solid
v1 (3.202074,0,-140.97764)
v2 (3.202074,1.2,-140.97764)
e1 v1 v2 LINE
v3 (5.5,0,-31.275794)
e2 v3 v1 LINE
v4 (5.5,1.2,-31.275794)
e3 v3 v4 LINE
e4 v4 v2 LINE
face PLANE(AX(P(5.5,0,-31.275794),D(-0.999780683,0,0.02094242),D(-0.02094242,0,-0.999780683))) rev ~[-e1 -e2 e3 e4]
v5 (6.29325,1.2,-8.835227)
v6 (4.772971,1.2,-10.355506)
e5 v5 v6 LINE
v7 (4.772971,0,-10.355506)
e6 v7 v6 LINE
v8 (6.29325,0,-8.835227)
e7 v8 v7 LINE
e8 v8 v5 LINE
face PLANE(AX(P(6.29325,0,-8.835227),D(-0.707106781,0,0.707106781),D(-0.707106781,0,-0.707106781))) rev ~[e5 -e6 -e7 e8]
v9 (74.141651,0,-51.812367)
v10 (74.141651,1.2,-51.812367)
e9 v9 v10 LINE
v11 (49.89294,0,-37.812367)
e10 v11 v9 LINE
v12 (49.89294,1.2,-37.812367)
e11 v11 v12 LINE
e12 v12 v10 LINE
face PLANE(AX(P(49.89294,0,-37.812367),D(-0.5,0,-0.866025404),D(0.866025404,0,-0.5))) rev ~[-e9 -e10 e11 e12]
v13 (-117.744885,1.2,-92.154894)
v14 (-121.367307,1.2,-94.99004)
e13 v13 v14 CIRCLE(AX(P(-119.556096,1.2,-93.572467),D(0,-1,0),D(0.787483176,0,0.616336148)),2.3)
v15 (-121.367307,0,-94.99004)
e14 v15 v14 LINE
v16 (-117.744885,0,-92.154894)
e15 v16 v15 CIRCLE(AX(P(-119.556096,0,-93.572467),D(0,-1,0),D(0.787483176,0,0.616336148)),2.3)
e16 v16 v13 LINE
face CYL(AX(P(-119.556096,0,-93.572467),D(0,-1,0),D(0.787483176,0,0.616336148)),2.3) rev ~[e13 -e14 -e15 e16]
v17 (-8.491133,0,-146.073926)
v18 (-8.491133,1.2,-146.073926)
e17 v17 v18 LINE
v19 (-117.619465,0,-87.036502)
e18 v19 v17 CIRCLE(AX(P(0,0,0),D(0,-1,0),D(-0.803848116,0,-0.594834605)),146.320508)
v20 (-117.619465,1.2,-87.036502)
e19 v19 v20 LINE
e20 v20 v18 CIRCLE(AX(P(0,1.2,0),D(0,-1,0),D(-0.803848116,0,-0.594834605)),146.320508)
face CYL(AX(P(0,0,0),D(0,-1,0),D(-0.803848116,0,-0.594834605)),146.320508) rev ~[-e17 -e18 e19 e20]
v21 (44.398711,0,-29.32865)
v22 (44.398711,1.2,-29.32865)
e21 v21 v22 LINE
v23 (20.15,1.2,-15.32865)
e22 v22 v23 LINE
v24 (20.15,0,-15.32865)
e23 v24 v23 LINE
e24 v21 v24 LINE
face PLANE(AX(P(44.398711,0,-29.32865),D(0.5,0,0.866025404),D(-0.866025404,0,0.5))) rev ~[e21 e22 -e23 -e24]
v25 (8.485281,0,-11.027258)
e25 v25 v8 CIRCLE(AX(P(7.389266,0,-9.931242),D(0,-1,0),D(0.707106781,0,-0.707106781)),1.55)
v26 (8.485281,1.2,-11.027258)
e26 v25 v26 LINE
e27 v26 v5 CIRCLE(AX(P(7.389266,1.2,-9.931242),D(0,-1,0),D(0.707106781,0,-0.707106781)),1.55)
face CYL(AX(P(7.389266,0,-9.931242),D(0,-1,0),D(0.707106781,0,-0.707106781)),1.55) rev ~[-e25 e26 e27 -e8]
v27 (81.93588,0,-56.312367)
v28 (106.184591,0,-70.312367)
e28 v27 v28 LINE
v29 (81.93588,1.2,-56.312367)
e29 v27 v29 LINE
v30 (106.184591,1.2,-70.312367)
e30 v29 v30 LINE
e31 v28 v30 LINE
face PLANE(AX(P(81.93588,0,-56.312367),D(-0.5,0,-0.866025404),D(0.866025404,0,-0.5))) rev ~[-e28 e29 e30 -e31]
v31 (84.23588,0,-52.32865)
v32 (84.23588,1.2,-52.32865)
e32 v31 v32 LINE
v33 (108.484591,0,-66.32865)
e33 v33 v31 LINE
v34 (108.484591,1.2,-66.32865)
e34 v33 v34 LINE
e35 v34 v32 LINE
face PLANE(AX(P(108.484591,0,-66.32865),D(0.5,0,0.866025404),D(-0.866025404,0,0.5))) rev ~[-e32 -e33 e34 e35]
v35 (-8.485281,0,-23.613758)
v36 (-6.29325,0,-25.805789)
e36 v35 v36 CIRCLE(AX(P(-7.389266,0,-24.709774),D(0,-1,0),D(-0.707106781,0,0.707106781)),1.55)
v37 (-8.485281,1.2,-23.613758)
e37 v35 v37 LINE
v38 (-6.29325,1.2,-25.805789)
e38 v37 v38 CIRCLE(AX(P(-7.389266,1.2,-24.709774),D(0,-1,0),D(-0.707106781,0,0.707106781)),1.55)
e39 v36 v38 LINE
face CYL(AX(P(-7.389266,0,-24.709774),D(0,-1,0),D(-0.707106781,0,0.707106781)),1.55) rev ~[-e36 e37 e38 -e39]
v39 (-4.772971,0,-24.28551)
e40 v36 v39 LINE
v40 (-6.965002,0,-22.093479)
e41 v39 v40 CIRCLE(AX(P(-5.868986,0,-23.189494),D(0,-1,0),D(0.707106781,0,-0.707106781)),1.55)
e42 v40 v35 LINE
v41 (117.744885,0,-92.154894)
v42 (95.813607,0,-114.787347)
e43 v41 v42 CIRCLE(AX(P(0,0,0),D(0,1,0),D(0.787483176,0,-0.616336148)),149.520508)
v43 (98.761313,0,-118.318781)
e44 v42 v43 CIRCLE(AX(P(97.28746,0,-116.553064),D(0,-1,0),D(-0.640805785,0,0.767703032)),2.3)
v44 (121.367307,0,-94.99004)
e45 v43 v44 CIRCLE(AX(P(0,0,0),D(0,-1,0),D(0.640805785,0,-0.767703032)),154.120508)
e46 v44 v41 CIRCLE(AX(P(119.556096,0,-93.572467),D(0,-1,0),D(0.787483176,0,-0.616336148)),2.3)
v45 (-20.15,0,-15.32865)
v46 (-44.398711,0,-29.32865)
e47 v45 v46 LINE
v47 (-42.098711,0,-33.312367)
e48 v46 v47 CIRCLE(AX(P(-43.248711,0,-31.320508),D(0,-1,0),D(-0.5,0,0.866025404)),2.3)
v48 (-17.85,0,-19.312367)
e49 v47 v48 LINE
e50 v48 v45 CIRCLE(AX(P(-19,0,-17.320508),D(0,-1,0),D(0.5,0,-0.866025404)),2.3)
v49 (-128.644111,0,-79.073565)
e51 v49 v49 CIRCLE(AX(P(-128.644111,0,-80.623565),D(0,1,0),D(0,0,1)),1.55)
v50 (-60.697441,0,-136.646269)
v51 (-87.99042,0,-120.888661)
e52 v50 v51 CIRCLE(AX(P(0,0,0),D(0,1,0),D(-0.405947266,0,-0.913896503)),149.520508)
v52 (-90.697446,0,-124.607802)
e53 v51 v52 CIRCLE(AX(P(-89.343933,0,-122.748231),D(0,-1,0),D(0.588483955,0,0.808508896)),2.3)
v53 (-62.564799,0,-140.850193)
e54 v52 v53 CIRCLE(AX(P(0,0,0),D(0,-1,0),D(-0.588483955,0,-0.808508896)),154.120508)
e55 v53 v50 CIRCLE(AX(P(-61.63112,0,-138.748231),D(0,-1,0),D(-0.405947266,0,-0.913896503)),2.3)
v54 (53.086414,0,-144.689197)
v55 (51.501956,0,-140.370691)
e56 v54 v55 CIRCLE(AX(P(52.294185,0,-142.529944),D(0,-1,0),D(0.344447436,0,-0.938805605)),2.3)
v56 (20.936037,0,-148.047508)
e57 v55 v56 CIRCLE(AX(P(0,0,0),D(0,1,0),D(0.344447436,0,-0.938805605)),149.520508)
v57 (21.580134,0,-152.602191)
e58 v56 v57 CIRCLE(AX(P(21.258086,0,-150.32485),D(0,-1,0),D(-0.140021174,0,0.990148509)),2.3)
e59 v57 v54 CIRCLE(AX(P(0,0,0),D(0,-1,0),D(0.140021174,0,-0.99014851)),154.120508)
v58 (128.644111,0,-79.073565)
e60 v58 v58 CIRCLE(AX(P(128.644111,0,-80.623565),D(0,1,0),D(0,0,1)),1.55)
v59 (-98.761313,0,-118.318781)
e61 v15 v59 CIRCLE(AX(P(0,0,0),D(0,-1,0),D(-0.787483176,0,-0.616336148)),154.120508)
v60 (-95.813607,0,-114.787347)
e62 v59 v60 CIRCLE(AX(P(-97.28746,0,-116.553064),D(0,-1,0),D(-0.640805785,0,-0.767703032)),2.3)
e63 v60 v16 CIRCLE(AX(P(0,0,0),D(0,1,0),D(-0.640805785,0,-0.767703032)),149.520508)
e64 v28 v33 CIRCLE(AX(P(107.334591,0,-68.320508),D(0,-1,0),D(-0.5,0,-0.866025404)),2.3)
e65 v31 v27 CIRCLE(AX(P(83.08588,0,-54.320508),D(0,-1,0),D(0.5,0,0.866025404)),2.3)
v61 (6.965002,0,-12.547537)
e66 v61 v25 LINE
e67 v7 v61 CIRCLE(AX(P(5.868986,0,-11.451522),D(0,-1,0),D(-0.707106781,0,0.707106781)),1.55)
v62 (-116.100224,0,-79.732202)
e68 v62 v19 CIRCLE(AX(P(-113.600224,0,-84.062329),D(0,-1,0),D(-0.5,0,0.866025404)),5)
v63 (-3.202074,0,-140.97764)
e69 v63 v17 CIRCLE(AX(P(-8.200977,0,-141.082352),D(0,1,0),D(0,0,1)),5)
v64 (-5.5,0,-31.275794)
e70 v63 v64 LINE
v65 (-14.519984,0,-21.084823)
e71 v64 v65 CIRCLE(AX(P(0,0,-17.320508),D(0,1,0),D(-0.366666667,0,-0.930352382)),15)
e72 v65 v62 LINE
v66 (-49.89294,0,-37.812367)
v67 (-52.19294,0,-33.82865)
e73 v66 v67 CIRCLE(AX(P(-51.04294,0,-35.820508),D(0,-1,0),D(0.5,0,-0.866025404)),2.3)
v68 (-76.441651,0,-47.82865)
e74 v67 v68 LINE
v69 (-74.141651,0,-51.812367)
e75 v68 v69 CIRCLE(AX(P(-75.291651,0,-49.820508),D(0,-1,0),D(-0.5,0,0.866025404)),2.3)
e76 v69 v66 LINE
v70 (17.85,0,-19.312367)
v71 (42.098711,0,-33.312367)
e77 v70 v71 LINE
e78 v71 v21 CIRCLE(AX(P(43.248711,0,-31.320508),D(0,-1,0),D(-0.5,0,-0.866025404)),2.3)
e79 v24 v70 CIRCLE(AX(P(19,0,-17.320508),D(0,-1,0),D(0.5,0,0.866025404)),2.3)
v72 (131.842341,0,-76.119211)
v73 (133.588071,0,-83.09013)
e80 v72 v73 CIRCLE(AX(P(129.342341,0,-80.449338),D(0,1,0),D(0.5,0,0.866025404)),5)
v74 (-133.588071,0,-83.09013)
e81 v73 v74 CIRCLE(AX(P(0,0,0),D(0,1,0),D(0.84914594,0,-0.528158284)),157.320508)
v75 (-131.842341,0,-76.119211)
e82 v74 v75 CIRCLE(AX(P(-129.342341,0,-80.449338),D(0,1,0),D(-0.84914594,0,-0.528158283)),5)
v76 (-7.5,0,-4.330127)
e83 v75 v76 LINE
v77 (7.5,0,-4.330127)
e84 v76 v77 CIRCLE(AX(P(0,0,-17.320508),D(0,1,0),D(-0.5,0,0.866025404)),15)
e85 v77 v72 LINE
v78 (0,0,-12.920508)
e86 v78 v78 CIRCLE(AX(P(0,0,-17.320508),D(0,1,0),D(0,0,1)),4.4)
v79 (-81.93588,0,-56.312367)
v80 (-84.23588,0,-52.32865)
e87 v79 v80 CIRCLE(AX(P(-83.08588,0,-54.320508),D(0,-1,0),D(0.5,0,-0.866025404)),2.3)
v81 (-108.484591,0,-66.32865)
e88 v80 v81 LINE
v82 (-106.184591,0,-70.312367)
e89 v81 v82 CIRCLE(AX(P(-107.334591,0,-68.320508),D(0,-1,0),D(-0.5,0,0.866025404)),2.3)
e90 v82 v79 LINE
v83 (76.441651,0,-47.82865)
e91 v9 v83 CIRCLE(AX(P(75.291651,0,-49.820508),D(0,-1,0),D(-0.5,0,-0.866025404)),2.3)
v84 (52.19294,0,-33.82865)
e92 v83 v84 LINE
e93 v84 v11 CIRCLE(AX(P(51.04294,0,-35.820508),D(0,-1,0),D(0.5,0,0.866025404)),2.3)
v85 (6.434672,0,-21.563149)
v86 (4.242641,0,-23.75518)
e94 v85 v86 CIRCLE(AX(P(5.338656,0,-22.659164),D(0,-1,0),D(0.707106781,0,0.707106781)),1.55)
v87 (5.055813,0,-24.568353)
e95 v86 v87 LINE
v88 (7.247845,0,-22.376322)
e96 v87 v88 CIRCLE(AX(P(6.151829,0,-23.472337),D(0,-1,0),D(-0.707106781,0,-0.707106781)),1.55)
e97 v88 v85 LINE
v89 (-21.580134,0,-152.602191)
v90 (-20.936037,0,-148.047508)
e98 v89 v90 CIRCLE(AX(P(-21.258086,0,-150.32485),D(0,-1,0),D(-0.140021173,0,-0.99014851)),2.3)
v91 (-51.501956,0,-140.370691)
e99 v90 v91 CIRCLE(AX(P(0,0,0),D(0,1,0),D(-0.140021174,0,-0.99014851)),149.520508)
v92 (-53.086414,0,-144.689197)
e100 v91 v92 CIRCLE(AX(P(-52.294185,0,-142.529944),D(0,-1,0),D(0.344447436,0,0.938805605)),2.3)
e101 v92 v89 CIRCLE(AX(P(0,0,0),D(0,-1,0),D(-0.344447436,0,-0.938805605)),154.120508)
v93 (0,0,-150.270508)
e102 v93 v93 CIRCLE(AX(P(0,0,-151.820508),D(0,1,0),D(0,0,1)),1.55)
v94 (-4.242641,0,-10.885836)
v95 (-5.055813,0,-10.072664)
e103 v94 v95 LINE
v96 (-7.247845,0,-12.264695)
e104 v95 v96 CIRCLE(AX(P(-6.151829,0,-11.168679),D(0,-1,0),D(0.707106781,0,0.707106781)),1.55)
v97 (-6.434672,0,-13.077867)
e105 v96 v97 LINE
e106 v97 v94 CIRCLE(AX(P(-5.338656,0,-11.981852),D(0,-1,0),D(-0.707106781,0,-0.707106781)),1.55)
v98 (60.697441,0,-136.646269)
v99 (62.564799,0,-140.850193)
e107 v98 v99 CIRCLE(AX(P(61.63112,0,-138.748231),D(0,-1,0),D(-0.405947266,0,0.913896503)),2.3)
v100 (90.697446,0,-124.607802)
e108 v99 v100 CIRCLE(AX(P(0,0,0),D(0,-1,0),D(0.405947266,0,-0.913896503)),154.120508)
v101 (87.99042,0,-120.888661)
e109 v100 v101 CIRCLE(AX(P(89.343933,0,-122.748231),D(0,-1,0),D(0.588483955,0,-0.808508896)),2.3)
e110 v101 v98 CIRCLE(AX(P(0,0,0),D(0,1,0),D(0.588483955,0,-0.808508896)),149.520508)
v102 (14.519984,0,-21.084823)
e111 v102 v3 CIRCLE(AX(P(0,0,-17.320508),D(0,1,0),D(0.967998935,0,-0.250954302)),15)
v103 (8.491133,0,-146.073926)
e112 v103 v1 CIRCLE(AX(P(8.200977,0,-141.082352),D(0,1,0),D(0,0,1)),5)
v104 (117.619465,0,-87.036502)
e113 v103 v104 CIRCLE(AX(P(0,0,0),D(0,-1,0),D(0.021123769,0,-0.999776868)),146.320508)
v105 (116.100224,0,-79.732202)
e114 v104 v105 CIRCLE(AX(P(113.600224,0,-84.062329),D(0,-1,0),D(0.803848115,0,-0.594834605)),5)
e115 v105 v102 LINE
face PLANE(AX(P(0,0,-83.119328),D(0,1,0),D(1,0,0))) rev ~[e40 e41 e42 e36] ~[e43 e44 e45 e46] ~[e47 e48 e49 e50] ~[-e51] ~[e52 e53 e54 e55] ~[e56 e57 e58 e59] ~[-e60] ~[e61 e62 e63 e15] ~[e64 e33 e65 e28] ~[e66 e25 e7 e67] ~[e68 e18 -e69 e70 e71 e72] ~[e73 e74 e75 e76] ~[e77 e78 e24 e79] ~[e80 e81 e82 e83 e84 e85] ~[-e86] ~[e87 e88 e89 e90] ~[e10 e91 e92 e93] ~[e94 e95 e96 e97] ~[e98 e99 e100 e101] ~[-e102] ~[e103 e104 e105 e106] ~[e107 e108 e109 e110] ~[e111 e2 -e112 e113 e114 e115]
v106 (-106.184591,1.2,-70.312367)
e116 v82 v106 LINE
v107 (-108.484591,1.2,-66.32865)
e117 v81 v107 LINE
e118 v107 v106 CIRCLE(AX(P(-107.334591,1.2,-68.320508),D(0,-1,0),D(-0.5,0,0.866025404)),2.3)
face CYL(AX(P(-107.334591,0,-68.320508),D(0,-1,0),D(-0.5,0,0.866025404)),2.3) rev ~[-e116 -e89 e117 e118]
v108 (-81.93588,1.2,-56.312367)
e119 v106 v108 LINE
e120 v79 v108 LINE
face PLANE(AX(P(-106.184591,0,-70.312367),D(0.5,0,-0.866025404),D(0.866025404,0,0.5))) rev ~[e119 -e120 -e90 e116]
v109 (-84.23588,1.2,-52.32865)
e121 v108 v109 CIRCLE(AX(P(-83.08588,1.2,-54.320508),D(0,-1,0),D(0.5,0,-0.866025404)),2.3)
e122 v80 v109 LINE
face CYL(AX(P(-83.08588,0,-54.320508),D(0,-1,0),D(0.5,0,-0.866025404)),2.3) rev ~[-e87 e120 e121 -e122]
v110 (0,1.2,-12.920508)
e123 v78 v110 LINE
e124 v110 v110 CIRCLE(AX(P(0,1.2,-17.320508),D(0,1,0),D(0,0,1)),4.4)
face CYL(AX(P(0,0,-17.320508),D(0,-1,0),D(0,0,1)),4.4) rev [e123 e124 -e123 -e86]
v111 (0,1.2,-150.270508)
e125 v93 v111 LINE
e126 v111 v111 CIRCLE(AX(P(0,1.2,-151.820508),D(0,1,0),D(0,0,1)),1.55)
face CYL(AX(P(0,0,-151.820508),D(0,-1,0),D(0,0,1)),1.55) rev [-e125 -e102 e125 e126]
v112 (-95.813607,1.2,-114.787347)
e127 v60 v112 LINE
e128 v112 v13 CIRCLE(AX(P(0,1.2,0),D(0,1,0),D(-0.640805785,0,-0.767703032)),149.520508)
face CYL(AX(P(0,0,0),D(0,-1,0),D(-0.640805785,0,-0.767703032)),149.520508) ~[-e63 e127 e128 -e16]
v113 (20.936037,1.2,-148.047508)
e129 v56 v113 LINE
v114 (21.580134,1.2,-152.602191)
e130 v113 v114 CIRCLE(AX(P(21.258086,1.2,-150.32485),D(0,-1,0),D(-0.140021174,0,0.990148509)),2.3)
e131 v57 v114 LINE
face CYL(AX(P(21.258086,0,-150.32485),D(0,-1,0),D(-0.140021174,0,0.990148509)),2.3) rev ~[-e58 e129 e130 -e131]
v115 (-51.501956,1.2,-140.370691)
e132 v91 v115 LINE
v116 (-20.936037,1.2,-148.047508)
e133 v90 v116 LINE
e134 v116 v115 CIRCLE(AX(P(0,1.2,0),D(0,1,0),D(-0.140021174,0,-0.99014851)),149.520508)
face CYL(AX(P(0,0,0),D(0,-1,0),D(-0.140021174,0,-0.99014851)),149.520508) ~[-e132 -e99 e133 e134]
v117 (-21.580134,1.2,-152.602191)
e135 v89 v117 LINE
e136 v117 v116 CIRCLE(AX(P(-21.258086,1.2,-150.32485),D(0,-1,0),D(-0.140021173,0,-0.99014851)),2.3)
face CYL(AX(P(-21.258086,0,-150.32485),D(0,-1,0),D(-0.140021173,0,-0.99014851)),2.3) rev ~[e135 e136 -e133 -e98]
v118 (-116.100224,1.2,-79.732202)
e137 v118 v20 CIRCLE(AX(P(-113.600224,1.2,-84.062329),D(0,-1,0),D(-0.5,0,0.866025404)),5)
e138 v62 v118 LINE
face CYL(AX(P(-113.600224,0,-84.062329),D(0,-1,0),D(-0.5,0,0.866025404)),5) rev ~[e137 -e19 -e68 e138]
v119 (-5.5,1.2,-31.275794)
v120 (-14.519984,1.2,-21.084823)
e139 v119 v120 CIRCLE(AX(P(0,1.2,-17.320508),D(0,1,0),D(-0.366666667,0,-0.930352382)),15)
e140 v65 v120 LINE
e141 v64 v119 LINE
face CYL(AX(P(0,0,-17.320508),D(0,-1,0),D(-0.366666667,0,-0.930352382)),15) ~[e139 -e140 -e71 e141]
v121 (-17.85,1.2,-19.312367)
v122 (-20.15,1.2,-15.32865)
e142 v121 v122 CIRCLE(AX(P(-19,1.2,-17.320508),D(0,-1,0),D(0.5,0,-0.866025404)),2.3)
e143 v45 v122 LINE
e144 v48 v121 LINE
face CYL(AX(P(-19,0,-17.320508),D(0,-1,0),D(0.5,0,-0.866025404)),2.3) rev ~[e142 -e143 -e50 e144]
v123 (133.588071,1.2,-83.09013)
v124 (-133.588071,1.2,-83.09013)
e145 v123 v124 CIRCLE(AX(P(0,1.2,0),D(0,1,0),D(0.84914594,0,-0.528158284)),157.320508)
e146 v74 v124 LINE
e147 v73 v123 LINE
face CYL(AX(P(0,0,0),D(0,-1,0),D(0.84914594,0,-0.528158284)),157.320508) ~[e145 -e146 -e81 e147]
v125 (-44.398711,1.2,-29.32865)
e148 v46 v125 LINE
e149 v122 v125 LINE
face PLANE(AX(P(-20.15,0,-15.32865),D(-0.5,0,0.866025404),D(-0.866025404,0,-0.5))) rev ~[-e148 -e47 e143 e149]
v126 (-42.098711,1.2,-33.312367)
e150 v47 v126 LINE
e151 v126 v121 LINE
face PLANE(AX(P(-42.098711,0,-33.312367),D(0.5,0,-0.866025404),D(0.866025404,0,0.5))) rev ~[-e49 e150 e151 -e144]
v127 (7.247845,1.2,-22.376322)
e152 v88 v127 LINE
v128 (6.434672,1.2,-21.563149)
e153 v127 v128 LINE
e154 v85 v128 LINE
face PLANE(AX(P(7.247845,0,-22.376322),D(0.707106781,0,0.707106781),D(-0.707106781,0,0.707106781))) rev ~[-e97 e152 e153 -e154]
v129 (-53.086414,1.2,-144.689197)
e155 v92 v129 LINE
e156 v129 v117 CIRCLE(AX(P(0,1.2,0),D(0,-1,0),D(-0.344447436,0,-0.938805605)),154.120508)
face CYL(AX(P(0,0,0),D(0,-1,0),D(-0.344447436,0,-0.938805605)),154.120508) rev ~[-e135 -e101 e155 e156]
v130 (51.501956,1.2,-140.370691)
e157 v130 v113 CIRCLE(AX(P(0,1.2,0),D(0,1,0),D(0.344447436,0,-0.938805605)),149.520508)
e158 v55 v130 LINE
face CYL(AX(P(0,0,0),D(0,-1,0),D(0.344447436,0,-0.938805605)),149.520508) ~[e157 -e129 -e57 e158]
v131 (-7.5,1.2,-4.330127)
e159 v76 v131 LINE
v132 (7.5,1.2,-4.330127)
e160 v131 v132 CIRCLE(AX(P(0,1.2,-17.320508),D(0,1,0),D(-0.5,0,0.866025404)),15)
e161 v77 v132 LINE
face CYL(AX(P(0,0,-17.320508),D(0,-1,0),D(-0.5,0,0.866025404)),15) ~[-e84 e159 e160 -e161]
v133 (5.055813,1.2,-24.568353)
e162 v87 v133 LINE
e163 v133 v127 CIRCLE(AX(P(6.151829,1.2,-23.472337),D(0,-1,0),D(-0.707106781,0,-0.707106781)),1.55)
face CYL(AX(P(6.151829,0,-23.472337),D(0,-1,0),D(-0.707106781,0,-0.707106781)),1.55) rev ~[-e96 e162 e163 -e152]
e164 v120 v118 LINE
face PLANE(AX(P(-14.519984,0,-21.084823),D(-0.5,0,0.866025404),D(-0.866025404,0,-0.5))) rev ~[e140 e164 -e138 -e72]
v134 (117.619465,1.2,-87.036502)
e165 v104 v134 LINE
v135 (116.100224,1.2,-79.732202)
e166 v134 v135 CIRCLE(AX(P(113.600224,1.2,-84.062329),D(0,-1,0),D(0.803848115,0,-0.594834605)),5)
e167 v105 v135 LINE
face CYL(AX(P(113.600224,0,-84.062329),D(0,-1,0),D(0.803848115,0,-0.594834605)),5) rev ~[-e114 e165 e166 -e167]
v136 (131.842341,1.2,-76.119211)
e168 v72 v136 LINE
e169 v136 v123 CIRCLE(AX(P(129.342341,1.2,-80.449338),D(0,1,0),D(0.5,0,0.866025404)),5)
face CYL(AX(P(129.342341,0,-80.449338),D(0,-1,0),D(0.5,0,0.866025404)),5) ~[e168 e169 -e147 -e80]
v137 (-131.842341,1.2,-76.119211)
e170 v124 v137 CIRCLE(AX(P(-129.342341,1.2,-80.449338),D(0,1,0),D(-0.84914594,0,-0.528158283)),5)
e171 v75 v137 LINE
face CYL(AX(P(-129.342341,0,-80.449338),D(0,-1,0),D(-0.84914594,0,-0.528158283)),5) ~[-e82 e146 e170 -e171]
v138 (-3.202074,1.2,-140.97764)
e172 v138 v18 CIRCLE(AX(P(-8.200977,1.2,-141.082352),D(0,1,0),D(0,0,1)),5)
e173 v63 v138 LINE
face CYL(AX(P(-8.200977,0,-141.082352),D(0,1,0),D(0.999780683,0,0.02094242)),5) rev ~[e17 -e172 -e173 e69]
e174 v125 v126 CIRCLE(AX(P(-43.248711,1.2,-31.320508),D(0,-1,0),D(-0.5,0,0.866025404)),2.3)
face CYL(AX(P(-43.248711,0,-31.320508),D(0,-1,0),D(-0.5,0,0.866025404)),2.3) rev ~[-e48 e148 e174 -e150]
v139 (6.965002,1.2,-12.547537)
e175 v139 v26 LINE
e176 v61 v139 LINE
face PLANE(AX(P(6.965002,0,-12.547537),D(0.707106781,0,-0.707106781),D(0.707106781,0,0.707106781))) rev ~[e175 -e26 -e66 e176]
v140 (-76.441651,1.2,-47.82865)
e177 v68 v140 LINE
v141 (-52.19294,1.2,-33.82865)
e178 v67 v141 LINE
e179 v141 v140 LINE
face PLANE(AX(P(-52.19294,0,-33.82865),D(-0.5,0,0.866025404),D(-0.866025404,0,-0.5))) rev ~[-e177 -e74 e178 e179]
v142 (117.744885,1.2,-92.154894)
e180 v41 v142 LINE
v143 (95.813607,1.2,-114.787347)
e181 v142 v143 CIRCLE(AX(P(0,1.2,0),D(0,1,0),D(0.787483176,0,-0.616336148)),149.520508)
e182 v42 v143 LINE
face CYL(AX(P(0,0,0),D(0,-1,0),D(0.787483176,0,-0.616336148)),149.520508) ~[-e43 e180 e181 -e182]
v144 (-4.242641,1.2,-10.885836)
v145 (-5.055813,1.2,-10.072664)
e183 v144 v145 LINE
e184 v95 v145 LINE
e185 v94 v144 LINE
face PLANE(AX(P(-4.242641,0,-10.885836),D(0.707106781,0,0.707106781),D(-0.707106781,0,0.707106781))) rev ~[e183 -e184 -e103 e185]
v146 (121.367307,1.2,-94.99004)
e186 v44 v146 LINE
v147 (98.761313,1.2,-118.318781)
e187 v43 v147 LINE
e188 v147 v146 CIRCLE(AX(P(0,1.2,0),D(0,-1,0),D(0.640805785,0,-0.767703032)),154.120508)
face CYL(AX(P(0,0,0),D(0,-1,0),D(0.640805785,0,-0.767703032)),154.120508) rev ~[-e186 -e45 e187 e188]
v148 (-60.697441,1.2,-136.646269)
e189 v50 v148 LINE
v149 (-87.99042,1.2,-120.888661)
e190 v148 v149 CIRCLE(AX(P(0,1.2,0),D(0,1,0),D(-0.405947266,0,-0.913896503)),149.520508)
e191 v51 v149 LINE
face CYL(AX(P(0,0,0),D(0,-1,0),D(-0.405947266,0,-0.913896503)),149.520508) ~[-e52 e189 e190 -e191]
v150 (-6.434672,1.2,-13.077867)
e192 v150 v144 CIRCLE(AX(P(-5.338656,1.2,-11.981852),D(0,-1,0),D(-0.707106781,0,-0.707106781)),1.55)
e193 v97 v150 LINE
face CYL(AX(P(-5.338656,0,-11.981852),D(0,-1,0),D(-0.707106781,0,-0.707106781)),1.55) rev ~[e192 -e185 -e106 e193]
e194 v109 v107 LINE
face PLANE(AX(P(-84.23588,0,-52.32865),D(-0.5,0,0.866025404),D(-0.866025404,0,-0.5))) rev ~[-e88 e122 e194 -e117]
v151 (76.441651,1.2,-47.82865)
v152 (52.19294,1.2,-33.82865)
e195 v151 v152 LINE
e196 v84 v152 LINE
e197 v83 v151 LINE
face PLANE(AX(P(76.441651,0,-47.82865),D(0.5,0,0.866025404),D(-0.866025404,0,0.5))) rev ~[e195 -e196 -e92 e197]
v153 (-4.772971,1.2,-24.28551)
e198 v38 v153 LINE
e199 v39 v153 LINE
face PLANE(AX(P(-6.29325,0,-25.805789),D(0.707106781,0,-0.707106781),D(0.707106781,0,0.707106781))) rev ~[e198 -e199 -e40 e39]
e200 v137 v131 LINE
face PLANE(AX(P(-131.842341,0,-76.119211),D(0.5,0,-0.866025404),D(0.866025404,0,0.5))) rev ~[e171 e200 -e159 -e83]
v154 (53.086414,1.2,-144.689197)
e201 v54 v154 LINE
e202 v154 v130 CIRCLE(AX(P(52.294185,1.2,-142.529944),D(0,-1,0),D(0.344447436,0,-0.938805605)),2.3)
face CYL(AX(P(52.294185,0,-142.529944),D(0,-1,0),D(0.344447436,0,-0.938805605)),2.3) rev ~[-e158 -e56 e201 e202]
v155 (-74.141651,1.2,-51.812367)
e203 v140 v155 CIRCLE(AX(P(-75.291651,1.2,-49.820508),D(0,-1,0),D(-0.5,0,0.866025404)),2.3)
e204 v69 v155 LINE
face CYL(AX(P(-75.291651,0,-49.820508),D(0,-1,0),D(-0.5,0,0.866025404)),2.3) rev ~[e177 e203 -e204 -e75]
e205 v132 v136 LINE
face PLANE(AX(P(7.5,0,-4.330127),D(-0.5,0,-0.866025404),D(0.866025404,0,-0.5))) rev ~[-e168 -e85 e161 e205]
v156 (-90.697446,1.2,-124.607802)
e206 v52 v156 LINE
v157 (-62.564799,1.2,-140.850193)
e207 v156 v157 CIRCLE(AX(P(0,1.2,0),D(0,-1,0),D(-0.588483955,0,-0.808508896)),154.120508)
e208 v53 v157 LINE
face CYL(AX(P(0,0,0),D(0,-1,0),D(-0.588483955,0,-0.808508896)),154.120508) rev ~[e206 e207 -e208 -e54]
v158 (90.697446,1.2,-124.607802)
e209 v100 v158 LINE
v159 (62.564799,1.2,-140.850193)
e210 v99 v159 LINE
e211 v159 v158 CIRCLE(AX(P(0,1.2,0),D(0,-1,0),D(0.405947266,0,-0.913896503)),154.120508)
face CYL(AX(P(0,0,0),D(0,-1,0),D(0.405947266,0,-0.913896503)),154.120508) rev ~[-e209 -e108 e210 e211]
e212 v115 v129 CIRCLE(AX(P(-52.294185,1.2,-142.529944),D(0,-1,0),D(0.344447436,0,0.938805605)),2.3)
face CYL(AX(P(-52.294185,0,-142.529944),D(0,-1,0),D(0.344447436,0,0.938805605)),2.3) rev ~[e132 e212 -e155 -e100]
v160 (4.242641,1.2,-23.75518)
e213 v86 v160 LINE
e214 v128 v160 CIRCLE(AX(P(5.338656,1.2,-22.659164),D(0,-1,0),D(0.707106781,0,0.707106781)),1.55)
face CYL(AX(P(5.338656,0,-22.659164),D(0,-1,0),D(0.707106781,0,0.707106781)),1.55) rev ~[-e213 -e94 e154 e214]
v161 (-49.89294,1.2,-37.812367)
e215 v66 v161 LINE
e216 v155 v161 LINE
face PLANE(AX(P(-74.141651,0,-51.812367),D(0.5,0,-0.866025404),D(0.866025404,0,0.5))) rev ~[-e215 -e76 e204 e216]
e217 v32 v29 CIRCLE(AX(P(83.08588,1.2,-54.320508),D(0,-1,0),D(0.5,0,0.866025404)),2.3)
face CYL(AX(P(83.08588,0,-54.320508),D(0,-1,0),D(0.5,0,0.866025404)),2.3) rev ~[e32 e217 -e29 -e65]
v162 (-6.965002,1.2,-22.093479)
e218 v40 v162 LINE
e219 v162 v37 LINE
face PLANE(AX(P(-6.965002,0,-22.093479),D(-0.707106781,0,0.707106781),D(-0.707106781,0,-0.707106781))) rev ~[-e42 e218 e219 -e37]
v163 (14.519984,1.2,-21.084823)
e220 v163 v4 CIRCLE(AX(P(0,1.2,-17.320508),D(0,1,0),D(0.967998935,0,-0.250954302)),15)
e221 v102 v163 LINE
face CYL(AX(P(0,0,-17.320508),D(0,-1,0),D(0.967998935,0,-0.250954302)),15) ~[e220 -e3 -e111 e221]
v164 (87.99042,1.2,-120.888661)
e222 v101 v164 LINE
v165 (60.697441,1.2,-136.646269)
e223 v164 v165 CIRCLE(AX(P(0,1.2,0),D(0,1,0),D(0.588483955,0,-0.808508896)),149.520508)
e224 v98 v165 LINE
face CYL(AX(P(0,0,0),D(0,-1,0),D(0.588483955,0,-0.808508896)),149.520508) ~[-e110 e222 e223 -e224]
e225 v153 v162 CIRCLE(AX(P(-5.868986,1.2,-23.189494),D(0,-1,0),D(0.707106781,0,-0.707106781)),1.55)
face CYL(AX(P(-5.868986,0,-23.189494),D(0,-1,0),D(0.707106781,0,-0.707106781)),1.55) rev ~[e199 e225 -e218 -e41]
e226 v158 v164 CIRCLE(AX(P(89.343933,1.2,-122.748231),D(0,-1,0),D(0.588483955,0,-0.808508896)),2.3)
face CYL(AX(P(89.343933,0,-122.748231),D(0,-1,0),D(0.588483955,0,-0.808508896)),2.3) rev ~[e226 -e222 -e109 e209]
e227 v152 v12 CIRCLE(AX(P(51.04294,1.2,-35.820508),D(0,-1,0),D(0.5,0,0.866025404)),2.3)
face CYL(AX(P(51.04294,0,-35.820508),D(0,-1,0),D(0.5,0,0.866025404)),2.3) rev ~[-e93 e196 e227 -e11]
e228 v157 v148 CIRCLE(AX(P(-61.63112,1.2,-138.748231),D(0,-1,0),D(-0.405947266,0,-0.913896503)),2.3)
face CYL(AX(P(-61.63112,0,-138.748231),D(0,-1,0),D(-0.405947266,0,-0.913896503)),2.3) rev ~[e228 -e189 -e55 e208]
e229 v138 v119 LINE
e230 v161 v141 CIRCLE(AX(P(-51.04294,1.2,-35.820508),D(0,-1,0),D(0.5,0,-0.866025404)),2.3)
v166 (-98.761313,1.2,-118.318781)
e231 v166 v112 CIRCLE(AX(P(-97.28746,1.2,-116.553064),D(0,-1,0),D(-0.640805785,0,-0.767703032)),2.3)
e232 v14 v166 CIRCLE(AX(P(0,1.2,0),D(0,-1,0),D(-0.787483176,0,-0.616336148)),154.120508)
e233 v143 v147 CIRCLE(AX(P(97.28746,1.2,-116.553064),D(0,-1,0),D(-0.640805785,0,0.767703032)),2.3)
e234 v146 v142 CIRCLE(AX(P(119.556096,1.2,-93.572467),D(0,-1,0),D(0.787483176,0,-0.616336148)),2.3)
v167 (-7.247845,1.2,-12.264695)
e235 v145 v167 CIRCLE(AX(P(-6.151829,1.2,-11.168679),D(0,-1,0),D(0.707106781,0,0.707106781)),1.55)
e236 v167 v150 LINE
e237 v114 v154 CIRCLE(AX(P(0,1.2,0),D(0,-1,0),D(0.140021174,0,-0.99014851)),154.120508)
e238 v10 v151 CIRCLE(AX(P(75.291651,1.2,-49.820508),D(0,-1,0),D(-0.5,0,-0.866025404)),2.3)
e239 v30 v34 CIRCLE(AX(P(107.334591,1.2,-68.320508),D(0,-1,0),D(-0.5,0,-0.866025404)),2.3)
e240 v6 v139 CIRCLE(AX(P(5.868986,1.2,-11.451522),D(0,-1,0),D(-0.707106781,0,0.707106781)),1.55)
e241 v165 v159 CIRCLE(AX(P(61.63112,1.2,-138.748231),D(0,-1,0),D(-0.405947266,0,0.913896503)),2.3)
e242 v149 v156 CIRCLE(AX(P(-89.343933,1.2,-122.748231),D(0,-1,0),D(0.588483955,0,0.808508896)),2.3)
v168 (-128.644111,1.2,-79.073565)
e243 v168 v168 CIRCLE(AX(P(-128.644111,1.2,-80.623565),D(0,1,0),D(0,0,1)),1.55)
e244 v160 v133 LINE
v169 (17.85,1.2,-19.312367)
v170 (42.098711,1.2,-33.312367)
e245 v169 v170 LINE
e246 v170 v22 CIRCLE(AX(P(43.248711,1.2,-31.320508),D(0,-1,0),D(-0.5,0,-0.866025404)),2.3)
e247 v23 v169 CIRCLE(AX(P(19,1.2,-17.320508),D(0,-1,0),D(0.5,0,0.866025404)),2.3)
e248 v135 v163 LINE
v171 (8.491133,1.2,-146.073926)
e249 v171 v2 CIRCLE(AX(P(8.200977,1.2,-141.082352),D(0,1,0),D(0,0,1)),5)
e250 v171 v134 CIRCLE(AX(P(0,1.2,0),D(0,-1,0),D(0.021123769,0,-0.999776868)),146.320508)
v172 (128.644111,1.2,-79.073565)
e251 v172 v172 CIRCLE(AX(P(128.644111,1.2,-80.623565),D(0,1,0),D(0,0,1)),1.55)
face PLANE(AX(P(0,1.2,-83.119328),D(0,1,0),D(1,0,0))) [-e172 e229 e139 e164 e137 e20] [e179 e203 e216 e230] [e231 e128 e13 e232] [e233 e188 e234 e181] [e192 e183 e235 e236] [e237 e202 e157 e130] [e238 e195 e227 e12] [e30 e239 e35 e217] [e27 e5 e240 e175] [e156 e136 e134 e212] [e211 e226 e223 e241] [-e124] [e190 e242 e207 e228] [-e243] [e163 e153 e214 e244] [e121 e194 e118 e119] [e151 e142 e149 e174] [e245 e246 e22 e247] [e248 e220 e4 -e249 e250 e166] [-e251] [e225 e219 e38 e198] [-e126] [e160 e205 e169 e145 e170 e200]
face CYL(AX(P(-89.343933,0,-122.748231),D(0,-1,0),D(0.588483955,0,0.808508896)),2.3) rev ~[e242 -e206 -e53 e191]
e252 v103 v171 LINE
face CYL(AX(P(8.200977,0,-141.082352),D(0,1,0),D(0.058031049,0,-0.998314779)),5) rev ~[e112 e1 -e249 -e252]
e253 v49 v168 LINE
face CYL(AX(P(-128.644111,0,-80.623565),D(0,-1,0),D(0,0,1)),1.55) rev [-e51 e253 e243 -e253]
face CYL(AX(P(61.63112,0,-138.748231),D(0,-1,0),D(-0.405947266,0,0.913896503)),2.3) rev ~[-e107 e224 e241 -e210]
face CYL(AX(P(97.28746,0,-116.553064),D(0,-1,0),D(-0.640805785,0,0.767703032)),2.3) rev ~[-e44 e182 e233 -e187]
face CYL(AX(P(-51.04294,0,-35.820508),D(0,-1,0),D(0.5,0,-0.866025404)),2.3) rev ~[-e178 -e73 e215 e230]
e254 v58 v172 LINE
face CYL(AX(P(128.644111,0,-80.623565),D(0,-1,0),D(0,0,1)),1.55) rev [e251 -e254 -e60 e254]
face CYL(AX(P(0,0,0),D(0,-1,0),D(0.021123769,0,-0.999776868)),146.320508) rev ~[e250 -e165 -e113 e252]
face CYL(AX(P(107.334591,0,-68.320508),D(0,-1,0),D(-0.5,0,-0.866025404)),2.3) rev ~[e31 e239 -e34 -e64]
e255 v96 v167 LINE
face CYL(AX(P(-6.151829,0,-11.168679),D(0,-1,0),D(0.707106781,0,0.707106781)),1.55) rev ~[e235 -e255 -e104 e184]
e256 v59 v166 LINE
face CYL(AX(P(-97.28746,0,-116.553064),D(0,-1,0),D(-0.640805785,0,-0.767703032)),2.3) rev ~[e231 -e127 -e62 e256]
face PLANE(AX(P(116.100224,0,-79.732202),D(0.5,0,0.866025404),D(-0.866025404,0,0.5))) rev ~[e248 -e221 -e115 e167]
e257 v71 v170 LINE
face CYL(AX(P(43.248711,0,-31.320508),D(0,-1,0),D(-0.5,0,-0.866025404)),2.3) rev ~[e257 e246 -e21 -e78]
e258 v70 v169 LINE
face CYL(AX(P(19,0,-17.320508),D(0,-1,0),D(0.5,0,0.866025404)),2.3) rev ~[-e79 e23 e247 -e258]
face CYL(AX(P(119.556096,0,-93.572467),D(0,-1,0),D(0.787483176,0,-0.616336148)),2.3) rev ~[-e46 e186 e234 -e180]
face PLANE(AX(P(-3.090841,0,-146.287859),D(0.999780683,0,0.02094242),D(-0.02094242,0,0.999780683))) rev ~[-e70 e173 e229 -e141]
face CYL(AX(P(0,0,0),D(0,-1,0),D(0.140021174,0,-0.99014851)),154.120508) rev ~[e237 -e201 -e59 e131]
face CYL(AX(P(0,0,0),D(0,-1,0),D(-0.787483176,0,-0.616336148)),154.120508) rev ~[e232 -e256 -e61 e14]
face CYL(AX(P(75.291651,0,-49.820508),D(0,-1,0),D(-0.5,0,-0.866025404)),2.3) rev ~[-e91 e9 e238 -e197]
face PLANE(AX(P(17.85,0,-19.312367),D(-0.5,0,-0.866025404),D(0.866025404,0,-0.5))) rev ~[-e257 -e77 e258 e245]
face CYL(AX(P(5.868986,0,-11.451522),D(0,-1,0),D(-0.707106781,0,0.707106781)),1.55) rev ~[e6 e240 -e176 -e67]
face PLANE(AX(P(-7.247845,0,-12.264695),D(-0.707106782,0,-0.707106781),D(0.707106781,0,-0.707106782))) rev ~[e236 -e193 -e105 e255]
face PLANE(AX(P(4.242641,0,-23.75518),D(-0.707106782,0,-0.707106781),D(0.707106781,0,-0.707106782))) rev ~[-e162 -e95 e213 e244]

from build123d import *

# Parameters (mm, degrees)
SKETCH_1_R      = 1.55
SKETCH_1_R_2    = 4.4
EXTRUDE_1_DEPTH = 1.2
FILLET_1_R      = 5


with BuildPart() as part:
    # 草图1 → 凸台-拉伸1 (new body)
    with BuildSketch(Plane(origin=(0, 0, 0), x_dir=(1, 0, 0), z_dir=(0, 1, 0))):
        with BuildLine():
            ThreePointArc((-7.5, 4.330127019), (0, 2.320508076), (7.5, 4.330127019))
            Line((7.5, 4.330127019), (131.842341019, 76.119211078))
            ThreePointArc((131.842341019, 76.119211078), (134.192561968, 79.234695458), (133.588070719, 83.090129515))
            ThreePointArc((133.588070719, 83.090129515), (0, 157.320508076), (-133.588070719, 83.090129515))
            ThreePointArc((-133.588070719, 83.090129515), (-134.192561968, 79.234695458), (-131.842341019, 76.119211078))
            Line((-131.842341019, 76.119211078), (-7.5, 4.330127019))
        make_face()
        with BuildLine():
            Line((-7.247844507, 12.26469459), (-6.434671709, 13.077867389))
            ThreePointArc((-6.434671709, 13.077867389), (-4.242640687, 13.077867389), (-4.242640687, 10.885836367))
            Line((-4.242640687, 10.885836367), (-5.055813485, 10.072663569))
            ThreePointArc((-5.055813485, 10.072663569), (-7.247844507, 10.072663569), (-7.247844507, 12.26469459))
        make_face(mode=Mode.SUBTRACT)
        with BuildLine():
            ThreePointArc((-44.398711306, 29.328649647), (-45.240569735, 32.470508076), (-42.098711306, 33.312366504))
            Line((-42.098711306, 33.312366504), (-17.85, 19.312366504))
            ThreePointArc((-17.85, 19.312366504), (-17.008141571, 16.170508076), (-20.15, 15.328649647))
            Line((-20.15, 15.328649647), (-44.398711306, 29.328649647))
        make_face(mode=Mode.SUBTRACT)
        with BuildLine():
            ThreePointArc((-8.485281374, 23.613758428), (-8.485281374, 25.80578945), (-6.293250353, 25.80578945))
            Line((-6.293250353, 25.80578945), (-4.772970773, 24.28550987))
            ThreePointArc((-4.772970773, 24.28550987), (-4.772970773, 22.093478849), (-6.965001795, 22.093478849))
            Line((-6.965001795, 22.093478849), (-8.485281374, 23.613758428))
        make_face(mode=Mode.SUBTRACT)
        with BuildLine():
            ThreePointArc((-76.441651246, 47.828649647), (-77.283509675, 50.970508076), (-74.141651246, 51.812366504))
            Line((-74.141651246, 51.812366504), (-49.89293994, 37.812366504))
            ThreePointArc((-49.89293994, 37.812366504), (-49.051081511, 34.670508076), (-52.19293994, 33.828649647))
            Line((-52.19293994, 33.828649647), (-76.441651246, 47.828649647))
        make_face(mode=Mode.SUBTRACT)
        with BuildLine():
            ThreePointArc((-108.484591186, 66.328649647), (-109.326449615, 69.470508076), (-106.184591186, 70.312366504))
            Line((-106.184591186, 70.312366504), (-81.93587988, 56.312366504))
            ThreePointArc((-81.93587988, 56.312366504), (-81.094021451, 53.170508076), (-84.23587988, 52.328649647))
            Line((-84.23587988, 52.328649647), (-108.484591186, 66.328649647))
        make_face(mode=Mode.SUBTRACT)
        with Locations(Location((-128.644111376, 80.623565294, 0), (0, 0, 270))):
            Circle(SKETCH_1_R, mode=Mode.SUBTRACT)
        with BuildLine():
            Line((6.965001795, 12.547537303), (8.485281374, 11.027257723))
            ThreePointArc((8.485281374, 11.027257723), (8.485281374, 8.835226701), (6.293250353, 8.835226701))
            Line((6.293250353, 8.835226701), (4.772970773, 10.355506281))
            ThreePointArc((4.772970773, 10.355506281), (4.772970773, 12.547537303), (6.965001795, 12.547537303))
        make_face(mode=Mode.SUBTRACT)
        with Locations(Location((0, 17.320508076, 0), (0, 0, 270))):
            Circle(SKETCH_1_R_2, mode=Mode.SUBTRACT)
        with BuildLine():
            ThreePointArc((6.434671709, 21.563148763), (4.242640687, 21.563148763), (4.242640687, 23.755179784))
            Line((4.242640687, 23.755179784), (5.055813485, 24.568352583))
            ThreePointArc((5.055813485, 24.568352583), (7.247844507, 24.568352583), (7.247844507, 22.376321561))
            Line((7.247844507, 22.376321561), (6.434671709, 21.563148763))
        make_face(mode=Mode.SUBTRACT)
        with BuildLine():
            Line((17.85, 19.312366504), (42.098711306, 33.312366504))
            ThreePointArc((42.098711306, 33.312366504), (45.240569735, 32.470508076), (44.398711306, 29.328649647))
            Line((44.398711306, 29.328649647), (20.15, 15.328649647))
            ThreePointArc((20.15, 15.328649647), (17.008141571, 16.170508076), (17.85, 19.312366504))
        make_face(mode=Mode.SUBTRACT)
        with BuildLine():
            Line((49.89293994, 37.812366504), (74.141651246, 51.812366504))
            ThreePointArc((74.141651246, 51.812366504), (77.283509675, 50.970508076), (76.441651246, 47.828649647))
            Line((76.441651246, 47.828649647), (52.19293994, 33.828649647))
            ThreePointArc((52.19293994, 33.828649647), (49.051081511, 34.670508076), (49.89293994, 37.812366504))
        make_face(mode=Mode.SUBTRACT)
        with BuildLine():
            Line((81.93587988, 56.312366504), (106.184591186, 70.312366504))
            ThreePointArc((106.184591186, 70.312366504), (109.326449615, 69.470508076), (108.484591186, 66.328649647))
            Line((108.484591186, 66.328649647), (84.23587988, 52.328649647))
            ThreePointArc((84.23587988, 52.328649647), (81.094021451, 53.170508076), (81.93587988, 56.312366504))
        make_face(mode=Mode.SUBTRACT)
        with Locations(Location((128.644111376, 80.623565294, 0), (0, 0, 270))):
            Circle(SKETCH_1_R, mode=Mode.SUBTRACT)
        with BuildLine():
            ThreePointArc((-121.36730718, 94.990040307), (-110.680666398, 107.251671759), (-98.761313169, 118.318781395))
            ThreePointArc((-98.761313169, 118.318781395), (-95.521742889, 118.026917726), (-95.813606558, 114.787347446))
            ThreePointArc((-95.813606558, 114.787347446), (-107.377205543, 104.050555333), (-117.74488457, 92.154894025))
            ThreePointArc((-117.74488457, 92.154894025), (-120.973669016, 91.761255861), (-121.36730718, 94.990040307))
        make_face(mode=Mode.SUBTRACT)
        with BuildLine():
            ThreePointArc((-90.69744613, 124.607801823), (-77.060254038, 133.472275238), (-62.564798823, 140.850193318))
            ThreePointArc((-62.564798823, 140.850193318), (-59.529158156, 139.681910073), (-60.697441401, 136.646269406))
            ThreePointArc((-60.697441401, 136.646269406), (-74.760254038, 129.48855838), (-87.990419937, 120.888660901))
            ThreePointArc((-87.990419937, 120.888660901), (-91.203503494, 121.394718266), (-90.69744613, 124.607801823))
        make_face(mode=Mode.SUBTRACT)
        with BuildLine():
            ThreePointArc((-53.086413848, 144.689196813), (-37.542339143, 149.478104688), (-21.580134422, 152.60219136))
            ThreePointArc((-21.580134422, 152.60219136), (-18.980744151, 150.646898487), (-20.936037023, 148.047508216))
            ThreePointArc((-20.936037023, 148.047508216), (-36.421821425, 145.016665454), (-51.501955642, 140.37069103))
            ThreePointArc((-51.501955642, 140.37069103), (-54.453437636, 141.737714818), (-53.086413848, 144.689196813))
        make_face(mode=Mode.SUBTRACT)
        with BuildLine():
            Line((-14.519984026, 21.084822608), (-116.100224104, 79.732201561))
            ThreePointArc((-116.100224104, 79.732201561), (-118.495458951, 83.044155809), (-117.619464681, 87.036501605))
            ThreePointArc((-117.619464681, 87.036501605), (-67.234108176, 129.958707986), (-3.090840664, 146.287859331))
            Line((-3.090840664, 146.287859331), (-5.5, 31.275793813))
            ThreePointArc((-5.5, 31.275793813), (-11.23227108, 27.262142065), (-14.519984026, 21.084822608))
        make_face(mode=Mode.SUBTRACT)
        with BuildLine():
            ThreePointArc((14.519984026, 21.084822608), (11.23227108, 27.262142065), (5.5, 31.275793813))
            Line((5.5, 31.275793813), (3.090840664, 146.287859331))
            ThreePointArc((3.090840664, 146.287859331), (67.234108176, 129.958707986), (117.619464681, 87.036501605))
            ThreePointArc((117.619464681, 87.036501605), (118.495458951, 83.044155809), (116.100224104, 79.732201561))
            Line((116.100224104, 79.732201561), (14.519984026, 21.084822608))
        make_face(mode=Mode.SUBTRACT)
        with BuildLine():
            ThreePointArc((95.813606558, 114.787347446), (95.521742889, 118.026917726), (98.761313169, 118.318781395))
            ThreePointArc((98.761313169, 118.318781395), (110.680666398, 107.251671759), (121.36730718, 94.990040307))
            ThreePointArc((121.36730718, 94.990040307), (120.973669016, 91.761255861), (117.74488457, 92.154894025))
            ThreePointArc((117.74488457, 92.154894025), (107.377205543, 104.050555333), (95.813606558, 114.787347446))
        make_face(mode=Mode.SUBTRACT)
        with Locations(Location((0, 151.820508076, 0), (0, 0, 270))):
            Circle(SKETCH_1_R, mode=Mode.SUBTRACT)
        with BuildLine():
            ThreePointArc((20.936037023, 148.047508216), (18.980744151, 150.646898487), (21.580134422, 152.60219136))
            ThreePointArc((21.580134422, 152.60219136), (37.542339143, 149.478104688), (53.086413848, 144.689196813))
            ThreePointArc((53.086413848, 144.689196813), (54.453437636, 141.737714818), (51.501955642, 140.37069103))
            ThreePointArc((51.501955642, 140.37069103), (36.421821425, 145.016665454), (20.936037023, 148.047508216))
        make_face(mode=Mode.SUBTRACT)
        with BuildLine():
            ThreePointArc((87.990419937, 120.888660901), (74.760254038, 129.48855838), (60.697441401, 136.646269406))
            ThreePointArc((60.697441401, 136.646269406), (59.529158156, 139.681910073), (62.564798823, 140.850193318))
            ThreePointArc((62.564798823, 140.850193318), (77.060254038, 133.472275238), (90.69744613, 124.607801823))
            ThreePointArc((90.69744613, 124.607801823), (91.203503494, 121.394718266), (87.990419937, 120.888660901))
        make_face(mode=Mode.SUBTRACT)
    extrude(amount=EXTRUDE_1_DEPTH)

    # 圆角1
    fillet_1_edges = [part.edges().sort_by_distance(p)[0] for p in [
        (3.090840664, 0.6, -146.287859331),
        (-3.090840664, 0.6, -146.287859331),
    ]]
    fillet(fillet_1_edges, radius=FILLET_1_R)


solid = part.part
